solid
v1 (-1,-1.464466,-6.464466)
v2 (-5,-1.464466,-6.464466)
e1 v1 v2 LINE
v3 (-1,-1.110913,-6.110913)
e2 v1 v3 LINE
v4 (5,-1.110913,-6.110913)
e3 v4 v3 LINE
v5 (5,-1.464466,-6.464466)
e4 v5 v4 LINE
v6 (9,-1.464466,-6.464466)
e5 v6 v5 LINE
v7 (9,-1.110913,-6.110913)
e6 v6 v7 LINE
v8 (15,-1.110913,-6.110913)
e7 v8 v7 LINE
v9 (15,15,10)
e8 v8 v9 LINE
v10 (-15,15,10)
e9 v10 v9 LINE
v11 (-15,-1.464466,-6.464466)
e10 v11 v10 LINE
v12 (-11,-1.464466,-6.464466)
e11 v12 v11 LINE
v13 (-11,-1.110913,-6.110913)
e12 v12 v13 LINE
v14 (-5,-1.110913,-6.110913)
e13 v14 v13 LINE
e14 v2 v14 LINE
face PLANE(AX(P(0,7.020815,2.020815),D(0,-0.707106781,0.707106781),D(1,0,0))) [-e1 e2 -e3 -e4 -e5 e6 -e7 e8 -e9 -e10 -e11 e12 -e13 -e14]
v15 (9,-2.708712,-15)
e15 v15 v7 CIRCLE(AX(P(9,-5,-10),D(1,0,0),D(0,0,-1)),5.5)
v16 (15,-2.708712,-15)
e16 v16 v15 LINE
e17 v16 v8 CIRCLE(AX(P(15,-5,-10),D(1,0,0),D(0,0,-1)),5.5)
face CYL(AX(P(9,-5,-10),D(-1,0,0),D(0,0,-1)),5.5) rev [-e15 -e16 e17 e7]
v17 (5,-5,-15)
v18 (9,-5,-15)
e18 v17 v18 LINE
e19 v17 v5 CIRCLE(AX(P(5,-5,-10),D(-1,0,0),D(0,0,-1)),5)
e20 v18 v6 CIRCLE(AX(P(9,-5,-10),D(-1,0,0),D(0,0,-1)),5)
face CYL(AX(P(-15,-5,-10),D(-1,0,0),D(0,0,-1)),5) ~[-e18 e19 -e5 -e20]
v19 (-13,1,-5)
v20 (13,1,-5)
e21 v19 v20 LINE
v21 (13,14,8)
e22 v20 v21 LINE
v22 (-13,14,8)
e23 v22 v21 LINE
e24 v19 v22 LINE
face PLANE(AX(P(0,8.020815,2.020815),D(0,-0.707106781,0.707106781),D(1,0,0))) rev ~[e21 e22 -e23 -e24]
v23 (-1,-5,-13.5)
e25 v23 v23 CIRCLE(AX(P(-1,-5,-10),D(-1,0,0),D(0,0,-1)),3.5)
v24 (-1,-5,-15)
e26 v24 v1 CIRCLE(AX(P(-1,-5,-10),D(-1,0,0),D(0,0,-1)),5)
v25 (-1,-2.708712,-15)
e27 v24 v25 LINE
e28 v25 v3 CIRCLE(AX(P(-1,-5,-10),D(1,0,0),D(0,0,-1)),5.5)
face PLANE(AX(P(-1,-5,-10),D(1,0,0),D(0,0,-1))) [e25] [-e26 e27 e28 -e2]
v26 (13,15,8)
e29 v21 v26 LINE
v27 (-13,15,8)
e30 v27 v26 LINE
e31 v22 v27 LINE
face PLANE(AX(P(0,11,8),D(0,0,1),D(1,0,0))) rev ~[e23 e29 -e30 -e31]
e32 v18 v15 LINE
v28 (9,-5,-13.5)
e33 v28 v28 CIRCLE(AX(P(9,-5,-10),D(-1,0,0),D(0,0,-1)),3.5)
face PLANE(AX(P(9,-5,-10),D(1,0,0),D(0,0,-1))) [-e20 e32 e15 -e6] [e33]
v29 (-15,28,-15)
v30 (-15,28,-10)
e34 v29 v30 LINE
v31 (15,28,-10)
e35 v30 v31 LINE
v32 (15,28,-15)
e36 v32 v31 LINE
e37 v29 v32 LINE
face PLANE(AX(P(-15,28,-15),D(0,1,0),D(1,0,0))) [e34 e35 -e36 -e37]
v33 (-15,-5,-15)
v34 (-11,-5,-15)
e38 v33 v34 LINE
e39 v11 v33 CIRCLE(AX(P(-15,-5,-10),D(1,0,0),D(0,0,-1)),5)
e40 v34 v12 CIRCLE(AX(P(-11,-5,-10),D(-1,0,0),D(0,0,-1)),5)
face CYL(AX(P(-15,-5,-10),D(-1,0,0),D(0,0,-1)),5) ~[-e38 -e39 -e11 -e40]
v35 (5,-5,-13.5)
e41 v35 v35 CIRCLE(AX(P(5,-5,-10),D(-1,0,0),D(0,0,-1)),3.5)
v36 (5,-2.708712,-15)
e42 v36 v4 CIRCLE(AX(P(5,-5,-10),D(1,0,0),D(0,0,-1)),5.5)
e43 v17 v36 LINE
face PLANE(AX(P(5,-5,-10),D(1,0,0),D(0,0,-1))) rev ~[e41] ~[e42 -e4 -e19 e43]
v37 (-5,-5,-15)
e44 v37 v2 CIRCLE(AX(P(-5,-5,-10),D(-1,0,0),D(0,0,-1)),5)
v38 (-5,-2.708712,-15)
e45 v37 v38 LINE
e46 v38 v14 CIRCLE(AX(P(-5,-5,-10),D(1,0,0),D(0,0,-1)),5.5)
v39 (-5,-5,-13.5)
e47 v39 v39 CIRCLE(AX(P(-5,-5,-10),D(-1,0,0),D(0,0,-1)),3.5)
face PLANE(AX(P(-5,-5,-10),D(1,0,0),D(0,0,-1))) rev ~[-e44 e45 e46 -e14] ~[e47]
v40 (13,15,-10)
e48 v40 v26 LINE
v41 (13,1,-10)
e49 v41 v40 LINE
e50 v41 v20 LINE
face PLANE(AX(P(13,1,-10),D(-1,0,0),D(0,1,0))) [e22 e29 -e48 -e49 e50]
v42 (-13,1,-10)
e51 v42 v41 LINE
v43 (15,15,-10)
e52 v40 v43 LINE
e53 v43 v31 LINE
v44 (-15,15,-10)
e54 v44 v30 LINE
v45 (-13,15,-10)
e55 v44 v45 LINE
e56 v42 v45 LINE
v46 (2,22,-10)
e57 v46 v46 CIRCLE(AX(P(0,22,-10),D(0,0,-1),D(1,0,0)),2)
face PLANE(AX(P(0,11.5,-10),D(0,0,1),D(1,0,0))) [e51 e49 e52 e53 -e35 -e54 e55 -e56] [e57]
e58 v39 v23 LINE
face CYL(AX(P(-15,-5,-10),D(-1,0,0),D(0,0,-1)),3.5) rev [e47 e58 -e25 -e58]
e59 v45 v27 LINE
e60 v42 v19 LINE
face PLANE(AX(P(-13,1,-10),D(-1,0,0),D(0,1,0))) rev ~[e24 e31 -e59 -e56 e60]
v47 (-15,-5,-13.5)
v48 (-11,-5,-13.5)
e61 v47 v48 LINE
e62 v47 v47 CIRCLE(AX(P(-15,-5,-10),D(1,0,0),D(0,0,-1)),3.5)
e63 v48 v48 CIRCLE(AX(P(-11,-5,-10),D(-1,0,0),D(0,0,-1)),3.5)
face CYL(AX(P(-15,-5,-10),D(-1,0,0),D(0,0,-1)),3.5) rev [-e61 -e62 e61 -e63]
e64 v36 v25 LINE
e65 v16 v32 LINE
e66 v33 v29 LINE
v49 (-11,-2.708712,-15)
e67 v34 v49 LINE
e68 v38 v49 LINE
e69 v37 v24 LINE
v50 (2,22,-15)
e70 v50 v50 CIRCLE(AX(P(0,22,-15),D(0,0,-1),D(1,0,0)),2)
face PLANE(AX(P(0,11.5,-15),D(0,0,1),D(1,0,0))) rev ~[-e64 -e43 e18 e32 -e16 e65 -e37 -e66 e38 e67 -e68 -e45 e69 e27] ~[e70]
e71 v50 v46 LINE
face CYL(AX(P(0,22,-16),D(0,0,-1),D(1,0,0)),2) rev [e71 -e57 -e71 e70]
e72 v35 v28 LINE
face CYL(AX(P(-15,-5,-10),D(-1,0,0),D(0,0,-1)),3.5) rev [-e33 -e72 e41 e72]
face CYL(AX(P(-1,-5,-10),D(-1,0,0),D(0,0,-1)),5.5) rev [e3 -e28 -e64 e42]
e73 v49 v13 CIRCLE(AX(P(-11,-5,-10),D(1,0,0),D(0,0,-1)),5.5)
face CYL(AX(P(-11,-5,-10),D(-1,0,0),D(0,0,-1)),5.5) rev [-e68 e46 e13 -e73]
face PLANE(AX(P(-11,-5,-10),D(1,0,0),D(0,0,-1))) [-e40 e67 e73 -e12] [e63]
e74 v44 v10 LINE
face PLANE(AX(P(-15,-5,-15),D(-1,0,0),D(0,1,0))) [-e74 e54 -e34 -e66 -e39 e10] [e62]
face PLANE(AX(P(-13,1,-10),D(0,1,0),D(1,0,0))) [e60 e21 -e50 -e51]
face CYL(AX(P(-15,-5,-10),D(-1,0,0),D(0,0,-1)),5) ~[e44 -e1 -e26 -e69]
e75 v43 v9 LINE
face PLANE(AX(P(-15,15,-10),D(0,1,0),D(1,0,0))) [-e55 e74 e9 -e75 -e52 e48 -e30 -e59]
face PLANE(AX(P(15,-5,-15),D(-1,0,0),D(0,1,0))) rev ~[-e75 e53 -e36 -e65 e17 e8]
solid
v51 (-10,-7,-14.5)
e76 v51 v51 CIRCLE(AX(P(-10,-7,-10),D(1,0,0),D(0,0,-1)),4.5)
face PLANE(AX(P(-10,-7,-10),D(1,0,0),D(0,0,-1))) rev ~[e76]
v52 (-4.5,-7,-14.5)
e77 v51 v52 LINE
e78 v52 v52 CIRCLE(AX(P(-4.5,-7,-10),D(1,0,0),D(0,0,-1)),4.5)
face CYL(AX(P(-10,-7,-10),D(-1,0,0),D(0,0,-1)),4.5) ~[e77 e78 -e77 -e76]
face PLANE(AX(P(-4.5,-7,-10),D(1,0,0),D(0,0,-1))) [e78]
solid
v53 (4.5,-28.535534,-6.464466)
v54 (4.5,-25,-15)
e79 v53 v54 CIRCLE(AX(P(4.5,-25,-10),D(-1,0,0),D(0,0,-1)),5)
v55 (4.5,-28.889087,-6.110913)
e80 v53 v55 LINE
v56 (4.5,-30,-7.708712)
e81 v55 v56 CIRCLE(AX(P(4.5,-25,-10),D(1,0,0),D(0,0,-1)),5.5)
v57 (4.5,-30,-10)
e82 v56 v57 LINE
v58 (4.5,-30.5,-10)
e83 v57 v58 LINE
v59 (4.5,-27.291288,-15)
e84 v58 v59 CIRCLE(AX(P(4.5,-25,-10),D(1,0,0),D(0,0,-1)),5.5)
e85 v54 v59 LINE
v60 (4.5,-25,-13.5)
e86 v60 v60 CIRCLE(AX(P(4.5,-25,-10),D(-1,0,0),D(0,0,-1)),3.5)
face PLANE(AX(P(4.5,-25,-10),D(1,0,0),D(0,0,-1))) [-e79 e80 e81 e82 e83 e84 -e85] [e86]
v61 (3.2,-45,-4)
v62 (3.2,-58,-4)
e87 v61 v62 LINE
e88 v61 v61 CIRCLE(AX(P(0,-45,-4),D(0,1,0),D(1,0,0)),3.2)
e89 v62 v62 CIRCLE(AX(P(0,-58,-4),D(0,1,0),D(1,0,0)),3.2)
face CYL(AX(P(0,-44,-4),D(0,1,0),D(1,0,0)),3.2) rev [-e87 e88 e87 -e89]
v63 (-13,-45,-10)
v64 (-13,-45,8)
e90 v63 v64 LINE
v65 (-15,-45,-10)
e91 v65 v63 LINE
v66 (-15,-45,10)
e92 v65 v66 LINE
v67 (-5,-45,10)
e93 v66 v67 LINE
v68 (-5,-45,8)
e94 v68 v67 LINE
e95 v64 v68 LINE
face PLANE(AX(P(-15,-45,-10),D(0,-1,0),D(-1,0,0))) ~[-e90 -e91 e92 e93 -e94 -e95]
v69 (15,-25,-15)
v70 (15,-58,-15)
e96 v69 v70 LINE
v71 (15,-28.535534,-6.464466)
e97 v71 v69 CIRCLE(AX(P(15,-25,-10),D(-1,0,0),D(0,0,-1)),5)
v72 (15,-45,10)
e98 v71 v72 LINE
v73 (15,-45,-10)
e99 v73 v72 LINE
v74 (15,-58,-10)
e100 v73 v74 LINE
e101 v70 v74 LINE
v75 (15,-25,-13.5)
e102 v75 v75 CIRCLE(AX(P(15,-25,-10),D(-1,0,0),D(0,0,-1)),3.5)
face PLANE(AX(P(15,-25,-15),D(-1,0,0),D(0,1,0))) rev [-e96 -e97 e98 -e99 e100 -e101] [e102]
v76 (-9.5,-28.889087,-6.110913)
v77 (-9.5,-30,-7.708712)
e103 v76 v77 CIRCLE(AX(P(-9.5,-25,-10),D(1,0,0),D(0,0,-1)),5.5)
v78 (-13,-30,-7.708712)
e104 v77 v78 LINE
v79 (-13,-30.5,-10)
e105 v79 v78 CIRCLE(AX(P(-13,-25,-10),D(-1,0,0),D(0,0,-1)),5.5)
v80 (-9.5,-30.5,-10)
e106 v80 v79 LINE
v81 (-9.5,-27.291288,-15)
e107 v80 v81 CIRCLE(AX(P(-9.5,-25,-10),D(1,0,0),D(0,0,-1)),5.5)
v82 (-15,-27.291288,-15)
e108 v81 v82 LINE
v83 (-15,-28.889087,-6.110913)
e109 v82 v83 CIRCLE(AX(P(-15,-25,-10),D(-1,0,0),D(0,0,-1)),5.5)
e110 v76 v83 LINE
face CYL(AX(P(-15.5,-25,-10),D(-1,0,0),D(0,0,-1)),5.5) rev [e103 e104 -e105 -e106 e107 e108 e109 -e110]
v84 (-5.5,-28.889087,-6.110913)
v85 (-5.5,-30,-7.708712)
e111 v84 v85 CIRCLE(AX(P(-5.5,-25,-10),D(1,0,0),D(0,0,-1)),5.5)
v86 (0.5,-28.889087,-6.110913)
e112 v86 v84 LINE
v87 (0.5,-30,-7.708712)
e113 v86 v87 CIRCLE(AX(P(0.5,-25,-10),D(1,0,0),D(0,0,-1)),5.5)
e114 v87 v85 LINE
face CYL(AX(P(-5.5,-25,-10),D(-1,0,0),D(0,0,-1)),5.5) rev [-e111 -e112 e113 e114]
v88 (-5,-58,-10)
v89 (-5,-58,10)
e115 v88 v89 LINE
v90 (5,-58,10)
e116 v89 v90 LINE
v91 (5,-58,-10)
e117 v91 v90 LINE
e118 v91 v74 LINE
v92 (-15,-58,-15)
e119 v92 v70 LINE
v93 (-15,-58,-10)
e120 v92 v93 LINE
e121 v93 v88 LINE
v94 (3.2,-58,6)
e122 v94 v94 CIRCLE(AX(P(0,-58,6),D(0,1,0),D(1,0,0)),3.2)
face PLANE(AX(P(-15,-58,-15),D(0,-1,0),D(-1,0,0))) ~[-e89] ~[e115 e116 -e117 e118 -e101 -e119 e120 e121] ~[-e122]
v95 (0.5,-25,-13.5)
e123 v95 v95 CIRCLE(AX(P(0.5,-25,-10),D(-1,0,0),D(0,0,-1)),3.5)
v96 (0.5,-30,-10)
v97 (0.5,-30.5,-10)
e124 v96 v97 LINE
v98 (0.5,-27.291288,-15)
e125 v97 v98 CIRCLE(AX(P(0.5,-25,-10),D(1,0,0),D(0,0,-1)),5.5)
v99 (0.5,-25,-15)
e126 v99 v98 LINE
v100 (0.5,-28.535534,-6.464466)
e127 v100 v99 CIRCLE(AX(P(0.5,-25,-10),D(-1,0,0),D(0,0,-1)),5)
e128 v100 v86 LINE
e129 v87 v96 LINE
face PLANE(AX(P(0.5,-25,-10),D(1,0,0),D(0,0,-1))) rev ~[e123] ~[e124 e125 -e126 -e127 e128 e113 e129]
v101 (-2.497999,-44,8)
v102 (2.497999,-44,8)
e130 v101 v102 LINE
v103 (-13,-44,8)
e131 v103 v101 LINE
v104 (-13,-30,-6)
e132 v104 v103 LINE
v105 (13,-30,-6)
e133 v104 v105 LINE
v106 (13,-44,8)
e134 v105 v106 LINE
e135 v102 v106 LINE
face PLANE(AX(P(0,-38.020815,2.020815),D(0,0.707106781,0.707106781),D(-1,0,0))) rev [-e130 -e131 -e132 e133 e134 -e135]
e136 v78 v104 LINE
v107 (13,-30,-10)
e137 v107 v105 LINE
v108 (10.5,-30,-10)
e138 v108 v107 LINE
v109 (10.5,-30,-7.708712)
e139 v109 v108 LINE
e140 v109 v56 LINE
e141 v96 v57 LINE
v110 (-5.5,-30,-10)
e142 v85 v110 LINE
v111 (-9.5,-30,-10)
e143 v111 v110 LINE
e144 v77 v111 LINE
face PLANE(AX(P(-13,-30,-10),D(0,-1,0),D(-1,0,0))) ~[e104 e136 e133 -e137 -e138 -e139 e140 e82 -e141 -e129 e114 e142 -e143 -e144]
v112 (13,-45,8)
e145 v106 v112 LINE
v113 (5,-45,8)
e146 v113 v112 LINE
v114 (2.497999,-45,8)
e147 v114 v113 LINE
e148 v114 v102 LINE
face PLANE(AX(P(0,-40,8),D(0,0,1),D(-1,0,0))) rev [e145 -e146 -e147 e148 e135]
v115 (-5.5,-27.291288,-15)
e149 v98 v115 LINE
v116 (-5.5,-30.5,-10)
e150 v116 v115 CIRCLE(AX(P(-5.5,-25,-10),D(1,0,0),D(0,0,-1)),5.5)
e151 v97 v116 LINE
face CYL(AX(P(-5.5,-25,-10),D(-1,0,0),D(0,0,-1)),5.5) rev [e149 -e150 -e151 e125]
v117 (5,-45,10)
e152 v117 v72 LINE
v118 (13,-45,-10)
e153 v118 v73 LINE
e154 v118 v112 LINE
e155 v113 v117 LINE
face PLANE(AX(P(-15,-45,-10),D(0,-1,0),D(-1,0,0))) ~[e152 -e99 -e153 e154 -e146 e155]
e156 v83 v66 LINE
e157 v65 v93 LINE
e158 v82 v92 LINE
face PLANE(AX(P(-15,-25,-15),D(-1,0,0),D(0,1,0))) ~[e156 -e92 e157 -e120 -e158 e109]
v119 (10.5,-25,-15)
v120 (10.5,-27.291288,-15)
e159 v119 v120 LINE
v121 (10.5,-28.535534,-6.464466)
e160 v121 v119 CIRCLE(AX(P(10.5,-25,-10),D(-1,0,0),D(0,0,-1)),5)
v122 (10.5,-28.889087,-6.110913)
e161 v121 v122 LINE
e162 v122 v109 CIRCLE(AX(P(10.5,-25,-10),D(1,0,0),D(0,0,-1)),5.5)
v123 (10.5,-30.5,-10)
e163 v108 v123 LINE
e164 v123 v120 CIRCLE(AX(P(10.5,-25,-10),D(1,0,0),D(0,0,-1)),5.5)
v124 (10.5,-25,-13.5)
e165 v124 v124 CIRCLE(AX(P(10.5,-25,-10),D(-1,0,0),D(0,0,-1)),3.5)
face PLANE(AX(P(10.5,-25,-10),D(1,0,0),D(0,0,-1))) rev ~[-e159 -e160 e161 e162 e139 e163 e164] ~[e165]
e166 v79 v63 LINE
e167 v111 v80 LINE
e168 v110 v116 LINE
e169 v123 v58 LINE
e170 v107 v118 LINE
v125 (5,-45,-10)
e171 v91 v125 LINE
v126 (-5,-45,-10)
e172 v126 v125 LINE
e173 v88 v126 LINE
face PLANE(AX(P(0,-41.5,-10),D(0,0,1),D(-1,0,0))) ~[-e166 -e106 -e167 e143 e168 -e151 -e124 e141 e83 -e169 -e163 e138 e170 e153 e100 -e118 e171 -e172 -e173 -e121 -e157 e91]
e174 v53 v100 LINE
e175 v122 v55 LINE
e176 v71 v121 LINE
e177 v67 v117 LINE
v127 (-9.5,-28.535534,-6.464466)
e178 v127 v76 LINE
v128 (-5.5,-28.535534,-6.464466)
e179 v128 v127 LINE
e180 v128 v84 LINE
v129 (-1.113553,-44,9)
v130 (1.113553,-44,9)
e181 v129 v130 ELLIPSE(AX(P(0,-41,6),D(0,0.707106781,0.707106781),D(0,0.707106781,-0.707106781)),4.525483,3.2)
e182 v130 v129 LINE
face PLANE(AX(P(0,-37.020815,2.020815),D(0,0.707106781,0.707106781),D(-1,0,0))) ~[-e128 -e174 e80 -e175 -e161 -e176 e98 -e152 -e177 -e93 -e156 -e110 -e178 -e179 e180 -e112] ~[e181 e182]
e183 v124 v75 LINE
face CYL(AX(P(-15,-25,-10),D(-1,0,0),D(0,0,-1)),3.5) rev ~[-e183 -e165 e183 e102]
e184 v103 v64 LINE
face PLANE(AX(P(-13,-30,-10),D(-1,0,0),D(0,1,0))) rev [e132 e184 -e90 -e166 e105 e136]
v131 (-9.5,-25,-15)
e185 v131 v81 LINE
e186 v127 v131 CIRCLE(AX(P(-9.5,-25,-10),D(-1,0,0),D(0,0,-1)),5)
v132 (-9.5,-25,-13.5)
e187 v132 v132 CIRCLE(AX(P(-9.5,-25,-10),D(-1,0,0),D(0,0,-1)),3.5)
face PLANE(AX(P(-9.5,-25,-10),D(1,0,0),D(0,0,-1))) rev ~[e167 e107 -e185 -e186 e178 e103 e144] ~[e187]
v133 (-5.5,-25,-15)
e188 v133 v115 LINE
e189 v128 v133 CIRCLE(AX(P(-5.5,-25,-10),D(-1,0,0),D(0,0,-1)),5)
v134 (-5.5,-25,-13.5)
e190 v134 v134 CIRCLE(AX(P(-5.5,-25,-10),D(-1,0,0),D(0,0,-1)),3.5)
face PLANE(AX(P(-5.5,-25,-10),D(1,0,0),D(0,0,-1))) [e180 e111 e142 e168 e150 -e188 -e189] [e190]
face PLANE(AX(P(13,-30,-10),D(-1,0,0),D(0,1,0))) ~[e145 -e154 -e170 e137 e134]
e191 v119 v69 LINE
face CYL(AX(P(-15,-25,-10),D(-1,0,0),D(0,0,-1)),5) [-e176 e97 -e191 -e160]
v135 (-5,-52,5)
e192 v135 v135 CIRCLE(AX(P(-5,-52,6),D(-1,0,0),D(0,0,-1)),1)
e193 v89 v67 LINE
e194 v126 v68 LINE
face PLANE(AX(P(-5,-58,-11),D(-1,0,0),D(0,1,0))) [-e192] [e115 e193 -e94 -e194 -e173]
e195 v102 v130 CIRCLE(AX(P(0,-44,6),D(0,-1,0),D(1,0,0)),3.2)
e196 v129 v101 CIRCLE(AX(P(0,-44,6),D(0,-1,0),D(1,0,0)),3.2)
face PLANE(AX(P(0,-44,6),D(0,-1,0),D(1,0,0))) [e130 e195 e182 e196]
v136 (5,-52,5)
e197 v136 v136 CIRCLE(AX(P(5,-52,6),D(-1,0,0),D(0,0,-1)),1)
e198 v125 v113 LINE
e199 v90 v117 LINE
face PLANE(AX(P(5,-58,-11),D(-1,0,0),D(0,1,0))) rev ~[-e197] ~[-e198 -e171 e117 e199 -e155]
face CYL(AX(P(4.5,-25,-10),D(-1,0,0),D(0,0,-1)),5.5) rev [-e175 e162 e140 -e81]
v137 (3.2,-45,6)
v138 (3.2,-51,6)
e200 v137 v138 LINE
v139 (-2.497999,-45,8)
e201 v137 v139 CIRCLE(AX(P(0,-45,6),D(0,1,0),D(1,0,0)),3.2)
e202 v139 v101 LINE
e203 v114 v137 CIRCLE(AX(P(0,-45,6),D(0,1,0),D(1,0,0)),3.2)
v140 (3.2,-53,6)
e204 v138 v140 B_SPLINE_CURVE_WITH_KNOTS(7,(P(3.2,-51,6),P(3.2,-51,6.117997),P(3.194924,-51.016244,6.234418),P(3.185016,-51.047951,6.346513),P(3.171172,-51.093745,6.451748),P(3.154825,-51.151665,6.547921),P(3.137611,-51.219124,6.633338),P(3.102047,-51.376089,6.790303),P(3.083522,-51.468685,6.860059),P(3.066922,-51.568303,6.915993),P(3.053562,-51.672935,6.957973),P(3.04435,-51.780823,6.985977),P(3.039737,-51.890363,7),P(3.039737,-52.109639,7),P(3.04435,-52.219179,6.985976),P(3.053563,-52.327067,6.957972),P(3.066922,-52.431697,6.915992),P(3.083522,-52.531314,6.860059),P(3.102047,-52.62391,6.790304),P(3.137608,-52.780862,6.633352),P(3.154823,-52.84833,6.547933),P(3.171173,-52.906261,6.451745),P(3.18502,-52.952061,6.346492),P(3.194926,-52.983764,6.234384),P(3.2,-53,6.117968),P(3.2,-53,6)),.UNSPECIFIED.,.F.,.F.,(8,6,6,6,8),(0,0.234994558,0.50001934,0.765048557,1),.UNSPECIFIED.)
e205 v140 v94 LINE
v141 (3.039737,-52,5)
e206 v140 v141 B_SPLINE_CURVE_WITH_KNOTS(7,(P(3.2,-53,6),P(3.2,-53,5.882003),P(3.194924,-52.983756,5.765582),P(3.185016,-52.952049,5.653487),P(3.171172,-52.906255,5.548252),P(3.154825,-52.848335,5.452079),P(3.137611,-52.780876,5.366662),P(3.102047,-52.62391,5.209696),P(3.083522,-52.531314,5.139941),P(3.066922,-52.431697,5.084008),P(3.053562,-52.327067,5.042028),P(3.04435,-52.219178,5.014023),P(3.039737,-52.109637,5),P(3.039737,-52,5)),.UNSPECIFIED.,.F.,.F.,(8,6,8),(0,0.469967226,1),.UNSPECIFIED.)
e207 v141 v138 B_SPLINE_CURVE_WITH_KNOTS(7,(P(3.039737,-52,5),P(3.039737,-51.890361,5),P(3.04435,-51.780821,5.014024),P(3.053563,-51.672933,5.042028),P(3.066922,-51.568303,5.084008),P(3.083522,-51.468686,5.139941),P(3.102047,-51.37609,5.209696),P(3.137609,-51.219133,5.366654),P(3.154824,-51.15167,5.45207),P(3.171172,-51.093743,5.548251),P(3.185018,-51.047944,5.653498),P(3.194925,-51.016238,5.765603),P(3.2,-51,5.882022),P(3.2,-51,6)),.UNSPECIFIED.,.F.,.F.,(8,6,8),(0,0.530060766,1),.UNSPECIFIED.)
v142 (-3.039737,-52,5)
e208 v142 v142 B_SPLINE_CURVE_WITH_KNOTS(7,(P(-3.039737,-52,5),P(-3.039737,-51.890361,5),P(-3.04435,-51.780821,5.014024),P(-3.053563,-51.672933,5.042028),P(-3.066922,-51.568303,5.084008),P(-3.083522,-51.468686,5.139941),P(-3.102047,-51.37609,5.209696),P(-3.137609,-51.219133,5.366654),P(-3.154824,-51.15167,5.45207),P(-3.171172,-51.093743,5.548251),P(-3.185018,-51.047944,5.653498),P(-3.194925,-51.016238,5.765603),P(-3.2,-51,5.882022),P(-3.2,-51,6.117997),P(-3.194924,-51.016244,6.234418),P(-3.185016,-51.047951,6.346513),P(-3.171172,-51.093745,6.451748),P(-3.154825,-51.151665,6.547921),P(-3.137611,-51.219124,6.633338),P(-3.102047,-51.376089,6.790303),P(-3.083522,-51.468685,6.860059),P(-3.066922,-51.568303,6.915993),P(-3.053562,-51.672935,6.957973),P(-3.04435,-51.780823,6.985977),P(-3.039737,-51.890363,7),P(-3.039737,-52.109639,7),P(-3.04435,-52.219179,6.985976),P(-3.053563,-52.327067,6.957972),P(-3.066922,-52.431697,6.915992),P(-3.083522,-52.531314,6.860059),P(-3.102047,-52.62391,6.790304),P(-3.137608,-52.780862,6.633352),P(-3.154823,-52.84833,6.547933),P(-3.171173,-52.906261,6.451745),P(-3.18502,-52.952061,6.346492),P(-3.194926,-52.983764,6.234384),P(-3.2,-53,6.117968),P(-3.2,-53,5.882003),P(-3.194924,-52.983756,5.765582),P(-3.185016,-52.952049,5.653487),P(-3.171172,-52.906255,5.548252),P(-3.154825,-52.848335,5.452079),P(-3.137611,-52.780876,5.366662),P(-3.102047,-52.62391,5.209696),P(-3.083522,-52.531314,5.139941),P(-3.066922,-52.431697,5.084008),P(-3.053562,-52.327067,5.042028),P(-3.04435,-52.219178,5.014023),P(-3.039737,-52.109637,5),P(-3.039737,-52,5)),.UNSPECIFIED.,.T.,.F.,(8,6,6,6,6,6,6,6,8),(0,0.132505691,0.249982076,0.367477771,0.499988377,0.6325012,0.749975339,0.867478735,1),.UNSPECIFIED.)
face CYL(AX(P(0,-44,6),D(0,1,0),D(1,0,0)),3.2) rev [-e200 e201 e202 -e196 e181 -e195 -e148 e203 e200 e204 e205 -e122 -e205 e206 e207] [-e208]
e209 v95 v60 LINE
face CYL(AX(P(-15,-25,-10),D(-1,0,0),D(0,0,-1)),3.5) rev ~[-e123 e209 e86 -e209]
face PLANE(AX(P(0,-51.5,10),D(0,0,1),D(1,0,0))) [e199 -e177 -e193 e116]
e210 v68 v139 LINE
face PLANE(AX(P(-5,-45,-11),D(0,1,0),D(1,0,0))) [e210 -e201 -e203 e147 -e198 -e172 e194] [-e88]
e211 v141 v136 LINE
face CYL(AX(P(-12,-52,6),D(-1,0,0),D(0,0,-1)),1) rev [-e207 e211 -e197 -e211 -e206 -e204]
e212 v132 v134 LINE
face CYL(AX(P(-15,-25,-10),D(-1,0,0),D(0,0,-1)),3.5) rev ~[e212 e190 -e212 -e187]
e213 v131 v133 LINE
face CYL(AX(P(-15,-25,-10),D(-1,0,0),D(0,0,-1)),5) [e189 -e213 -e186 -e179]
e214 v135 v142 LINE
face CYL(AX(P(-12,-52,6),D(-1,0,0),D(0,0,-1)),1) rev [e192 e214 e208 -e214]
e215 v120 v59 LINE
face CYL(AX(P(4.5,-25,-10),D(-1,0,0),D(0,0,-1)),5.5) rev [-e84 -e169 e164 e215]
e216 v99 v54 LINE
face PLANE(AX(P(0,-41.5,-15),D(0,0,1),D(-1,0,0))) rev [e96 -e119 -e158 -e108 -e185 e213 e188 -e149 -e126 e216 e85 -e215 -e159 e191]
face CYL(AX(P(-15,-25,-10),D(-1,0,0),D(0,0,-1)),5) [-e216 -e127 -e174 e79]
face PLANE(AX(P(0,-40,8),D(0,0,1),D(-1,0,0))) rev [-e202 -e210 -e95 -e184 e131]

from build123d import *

# Parameters (mm, degrees)
CYLINDER005_R           = 4.5
CYLINDER005_DEPTH       = 5.5
CYLINDER005_PITCH_ANGLE = 90
CYLINDER007_R           = 2
CYLINDER007_DEPTH       = 10
CYLINDER004_R           = 5.5
CYLINDER004_DEPTH       = 6
CYLINDER004_PITCH_ANGLE = 90
ARRAY_X_COUNT           = 4
ARRAY_X_PITCH           = 10
CYLINDER001_R           = 3.5
CYLINDER001_DEPTH       = 30
CYLINDER001_PITCH_ANGLE = 90
BOX002_W                = 30
BOX002_H                = 33
BOX002_DEPTH            = 5
CYLINDER_R              = 5
CYLINDER_DEPTH          = 30
CYLINDER_PITCH_ANGLE    = 90
BOX004_W                = 30
BOX004_H                = 34
BOX004_DEPTH            = 15
BOX004_ROLL_ANGLE       = 45
BOX003_W                = 26
BOX003_H                = 20
BOX003_DEPTH            = 18
BOX001_W                = 30
BOX001_H                = 34
BOX001_DEPTH            = 15
BOX001_ROLL_ANGLE       = 45
BOX_W                   = 30
BOX_H                   = 20
BOX_DEPTH               = 20
CYLINDER009_R           = 3.2
CYLINDER009_DEPTH       = 22
CYLINDER009_ROLL_ANGLE  = 90
CYLINDER010_R           = 1
CYLINDER010_DEPTH       = 22
CYLINDER010_PITCH_ANGLE = 90
CYLINDER008_R           = 3.2
CYLINDER008_DEPTH       = 22
CYLINDER008_ROLL_ANGLE  = 90
BOX010_W                = 10
BOX010_H                = 13
BOX010_DEPTH            = 21
CYLINDER006_R           = 5.5
CYLINDER006_DEPTH       = 6
CYLINDER006_PITCH_ANGLE = 90
ARRAY001_X_COUNT        = 3
ARRAY001_X_PITCH        = 10
CYLINDER003_R           = 3.5
CYLINDER003_DEPTH       = 30
CYLINDER003_PITCH_ANGLE = 90
BOX007_W                = 30
BOX007_H                = 33
BOX007_DEPTH            = 5
CYLINDER002_R           = 5
CYLINDER002_DEPTH       = 30
CYLINDER002_PITCH_ANGLE = 90
BOX009_W                = 30
BOX009_H                = 34
BOX009_DEPTH            = 15
BOX009_ROLL_ANGLE       = 45
BOX008_W                = 26
BOX008_H                = 20
BOX008_DEPTH            = 18
BOX006_W                = 30
BOX006_H                = 34
BOX006_DEPTH            = 15
BOX006_ROLL_ANGLE       = 45
BOX005_W                = 30
BOX005_H                = 20
BOX005_DEPTH            = 20


with BuildPart() as eje_out003:
    # Cylinder005 → Cylinder005 (new body)
    with BuildSketch(Plane.XY):
        Circle(CYLINDER005_R)
    extrude(amount=CYLINDER005_DEPTH)


with BuildPart() as eje_out003_1:
    # Cylinder005 pitch: moved
    add(eje_out003.part.rotate(Axis((0, 0, 0), (0, 1, 0)), CYLINDER005_PITCH_ANGLE))


with BuildPart() as eje_out003_2:
    # Cylinder005 placement: moved
    add(eje_out003_1.part.moved(Location((-10, -7, -10))))


with BuildPart() as tornillo:
    # Cylinder007 → Cylinder007 (new body)
    with BuildSketch(Plane(origin=(0, 22, -16), x_dir=(1, 0, 0), z_dir=(0, 0, 1))):
        Circle(CYLINDER007_R)
    extrude(amount=CYLINDER007_DEPTH)


with BuildPart() as array:
    # Cylinder004 → Cylinder004 (new body)
    with BuildSketch(Plane.XY):
        Circle(CYLINDER004_R)
    extrude(amount=CYLINDER004_DEPTH)


with BuildPart() as array_1:
    # Cylinder004 pitch: moved
    add(array.part.rotate(Axis((0, 0, 0), (0, 1, 0)), CYLINDER004_PITCH_ANGLE))


with BuildPart() as array_2:
    # Cylinder004 placement: moved
    add(array_1.part.moved(Location((-11, -5, -10))))

    # Array X: Array ×4


with BuildPart() as array_3:
    add(array_2.part)
    with Locations(*[(i * ARRAY_X_PITCH, 0, 0) for i in range(1, ARRAY_X_COUNT)]):
        add(array_2.part)


with BuildPart() as eje_int:
    # Cylinder001 → Cylinder001 (new body)
    with BuildSketch(Plane.XY):
        Circle(CYLINDER001_R)
    extrude(amount=CYLINDER001_DEPTH)


with BuildPart() as eje_int_1:
    # Cylinder001 pitch: moved
    add(eje_int.part.rotate(Axis((0, 0, 0), (0, 1, 0)), CYLINDER001_PITCH_ANGLE))


with BuildPart() as eje_int_2:
    # Cylinder001 placement: moved
    add(eje_int_1.part.moved(Location((-15, -5, -10))))


with BuildPart() as base:
    # Box002 → Box002 (new body)
    with BuildSketch(Plane(origin=(-15, -5, -15), x_dir=(1, 0, 0), z_dir=(0, 0, 1))):
        with Locations((15, 16.5)):
            Rectangle(BOX002_W, BOX002_H)
    extrude(amount=BOX002_DEPTH)


with BuildPart() as eje_out:
    # Cylinder → Cylinder (new body)
    with BuildSketch(Plane.XY):
        Circle(CYLINDER_R)
    extrude(amount=CYLINDER_DEPTH)


with BuildPart() as eje_out_1:
    # Cylinder pitch: moved
    add(eje_out.part.rotate(Axis((0, 0, 0), (0, 1, 0)), CYLINDER_PITCH_ANGLE))


with BuildPart() as eje_out_2:
    # Cylinder placement: moved
    add(eje_out_1.part.moved(Location((-15, -5, -10))))


with BuildPart() as cube_int_cut:
    # Box004 → Box004 (new body)
    with BuildSketch(Plane.XY):
        with Locations((15, 17)):
            Rectangle(BOX004_W, BOX004_H)
    extrude(amount=BOX004_DEPTH)


with BuildPart() as cube_int_cut_1:
    # Box004 roll: moved
    add(cube_int_cut.part.rotate(Axis((0, 0, 0), (1, 0, 0)), BOX004_ROLL_ANGLE))


with BuildPart() as cube_int_cut_2:
    # Box004 placement: moved
    add(cube_int_cut_1.part.moved(Location((-15, -4, -10))))


with BuildPart() as cut001:
    # Box003 → Box003 (new body)
    with BuildSketch(Plane(origin=(-13, 1, -10), x_dir=(1, 0, 0), z_dir=(0, 0, 1))):
        with Locations((13, 10)):
            Rectangle(BOX003_W, BOX003_H)
    extrude(amount=BOX003_DEPTH)

    # Cut001: cut Cube_int_cut
    add(cube_int_cut_2.part, mode=Mode.SUBTRACT)


with BuildPart() as cube_out_cut:
    # Box001 → Box001 (new body)
    with BuildSketch(Plane.XY):
        with Locations((15, 17)):
            Rectangle(BOX001_W, BOX001_H)
    extrude(amount=BOX001_DEPTH)


with BuildPart() as cube_out_cut_1:
    # Box001 roll: moved
    add(cube_out_cut.part.rotate(Axis((0, 0, 0), (1, 0, 0)), BOX001_ROLL_ANGLE))


with BuildPart() as cube_out_cut_2:
    # Box001 placement: moved
    add(cube_out_cut_1.part.moved(Location((-15, -5, -10))))


with BuildPart() as cut010:
    # Box → Box (new body)
    with BuildSketch(Plane(origin=(-15, -5, -10), x_dir=(1, 0, 0), z_dir=(0, 0, 1))):
        with Locations((15, 10)):
            Rectangle(BOX_W, BOX_H)
    extrude(amount=BOX_DEPTH)

    # Cut: cut Cube_out_cut
    add(cube_out_cut_2.part, mode=Mode.SUBTRACT)

    # Cut002: cut Cut001
    add(cut001.part, mode=Mode.SUBTRACT)

    # Fusion: union base, eje_out
    add(base.part)
    add(eje_out_2.part)

    # Cut003: cut eje_int
    add(eje_int_2.part, mode=Mode.SUBTRACT)

    # Cut008: cut Array
    add(array_3.part, mode=Mode.SUBTRACT)

    # Cut010: cut tornillo
    add(tornillo.part, mode=Mode.SUBTRACT)


with BuildPart() as cylinder002:
    # Cylinder009 → Cylinder009 (new body)
    with BuildSketch(Plane.XY):
        Circle(CYLINDER009_R)
    extrude(amount=CYLINDER009_DEPTH)


with BuildPart() as cylinder002_1:
    # Cylinder009 roll: moved
    add(cylinder002.part.rotate(Axis((0, 0, 0), (1, 0, 0)), CYLINDER009_ROLL_ANGLE))


with BuildPart() as cylinder002_2:
    # Cylinder009 placement: moved
    add(cylinder002_1.part.moved(Location((0, -44, -4))))


with BuildPart() as cylinder003:
    # Cylinder010 → Cylinder010 (new body)
    with BuildSketch(Plane.XY):
        Circle(CYLINDER010_R)
    extrude(amount=CYLINDER010_DEPTH)


with BuildPart() as cylinder003_1:
    # Cylinder010 pitch: moved
    add(cylinder003.part.rotate(Axis((0, 0, 0), (0, 1, 0)), CYLINDER010_PITCH_ANGLE))


with BuildPart() as cylinder003_2:
    # Cylinder010 placement: moved
    add(cylinder003_1.part.moved(Location((-12, -52, 6))))


with BuildPart() as fusion002:
    # Cylinder008 → Cylinder008 (new body)
    with BuildSketch(Plane.XY):
        Circle(CYLINDER008_R)
    extrude(amount=CYLINDER008_DEPTH)


with BuildPart() as fusion002_1:
    # Cylinder008 roll: moved
    add(fusion002.part.rotate(Axis((0, 0, 0), (1, 0, 0)), CYLINDER008_ROLL_ANGLE))


with BuildPart() as fusion002_2:
    # Cylinder008 placement: moved
    add(fusion002_1.part.moved(Location((0, -44, 6))))

    # Fusion002: union Cylinder002, Cylinder003
    add(cylinder002_2.part)
    add(cylinder003_2.part)


with BuildPart() as cube:
    # Box010 → Box010 (new body)
    with BuildSketch(Plane(origin=(-5, -58, -11), x_dir=(1, 0, 0), z_dir=(0, 0, 1))):
        with Locations((5, 6.5)):
            Rectangle(BOX010_W, BOX010_H)
    extrude(amount=BOX010_DEPTH)


with BuildPart() as array001:
    # Cylinder006 → Cylinder006 (new body)
    with BuildSketch(Plane.XY):
        Circle(CYLINDER006_R)
    extrude(amount=CYLINDER006_DEPTH)


with BuildPart() as array001_1:
    # Cylinder006 pitch: moved
    add(array001.part.rotate(Axis((0, 0, 0), (0, 1, 0)), CYLINDER006_PITCH_ANGLE))


with BuildPart() as array001_2:
    # Cylinder006 placement: moved
    add(array001_1.part.moved(Location((-15.5, -25, -10))))

    # Array001 X: Array001 ×3


with BuildPart() as array001_3:
    add(array001_2.part)
    with Locations(*[(i * ARRAY001_X_PITCH, 0, 0) for i in range(1, ARRAY001_X_COUNT)]):
        add(array001_2.part)


with BuildPart() as eje_int001:
    # Cylinder003 → Cylinder003 (new body)
    with BuildSketch(Plane.XY):
        Circle(CYLINDER003_R)
    extrude(amount=CYLINDER003_DEPTH)


with BuildPart() as eje_int001_1:
    # Cylinder003 pitch: moved
    add(eje_int001.part.rotate(Axis((0, 0, 0), (0, 1, 0)), CYLINDER003_PITCH_ANGLE))


with BuildPart() as eje_int001_2:
    # Cylinder003 placement: moved
    add(eje_int001_1.part.moved(Location((-15, -5, -10))))


with BuildPart() as base001:
    # Box007 → Box007 (new body)
    with BuildSketch(Plane(origin=(-15, -5, -15), x_dir=(1, 0, 0), z_dir=(0, 0, 1))):
        with Locations((15, 16.5)):
            Rectangle(BOX007_W, BOX007_H)
    extrude(amount=BOX007_DEPTH)


with BuildPart() as eje_out001:
    # Cylinder002 → Cylinder002 (new body)
    with BuildSketch(Plane.XY):
        Circle(CYLINDER002_R)
    extrude(amount=CYLINDER002_DEPTH)


with BuildPart() as eje_out001_1:
    # Cylinder002 pitch: moved
    add(eje_out001.part.rotate(Axis((0, 0, 0), (0, 1, 0)), CYLINDER002_PITCH_ANGLE))


with BuildPart() as eje_out001_2:
    # Cylinder002 placement: moved
    add(eje_out001_1.part.moved(Location((-15, -5, -10))))


with BuildPart() as cube_int_cut001:
    # Box009 → Box009 (new body)
    with BuildSketch(Plane.XY):
        with Locations((15, 17)):
            Rectangle(BOX009_W, BOX009_H)
    extrude(amount=BOX009_DEPTH)


with BuildPart() as cube_int_cut001_1:
    # Box009 roll: moved
    add(cube_int_cut001.part.rotate(Axis((0, 0, 0), (1, 0, 0)), BOX009_ROLL_ANGLE))


with BuildPart() as cube_int_cut001_2:
    # Box009 placement: moved
    add(cube_int_cut001_1.part.moved(Location((-15, -4, -10))))


with BuildPart() as cut005:
    # Box008 → Box008 (new body)
    with BuildSketch(Plane(origin=(-13, 0, -10), x_dir=(1, 0, 0), z_dir=(0, 0, 1))):
        with Locations((13, 10)):
            Rectangle(BOX008_W, BOX008_H)
    extrude(amount=BOX008_DEPTH)

    # Cut005: cut Cube_int_cut001
    add(cube_int_cut001_2.part, mode=Mode.SUBTRACT)


with BuildPart() as cube_out_cut001:
    # Box006 → Box006 (new body)
    with BuildSketch(Plane.XY):
        with Locations((15, 17)):
            Rectangle(BOX006_W, BOX006_H)
    extrude(amount=BOX006_DEPTH)


with BuildPart() as cube_out_cut001_1:
    # Box006 roll: moved
    add(cube_out_cut001.part.rotate(Axis((0, 0, 0), (1, 0, 0)), BOX006_ROLL_ANGLE))


with BuildPart() as cube_out_cut001_2:
    # Box006 placement: moved
    add(cube_out_cut001_1.part.moved(Location((-15, -5, -10))))


with BuildPart() as cut007:
    # Box005 → Box005 (new body)
    with BuildSketch(Plane(origin=(-15, -5, -10), x_dir=(1, 0, 0), z_dir=(0, 0, 1))):
        with Locations((15, 10)):
            Rectangle(BOX005_W, BOX005_H)
    extrude(amount=BOX005_DEPTH)

    # Cut004: cut Cube_out_cut001
    add(cube_out_cut001_2.part, mode=Mode.SUBTRACT)

    # Cut006: cut Cut005
    add(cut005.part, mode=Mode.SUBTRACT)

    # Fusion001: union base001, eje_out001
    add(base001.part)
    add(eje_out001_2.part)

    # Cut007: cut eje_int001
    add(eje_int001_2.part, mode=Mode.SUBTRACT)


with BuildPart() as cut011:
    # Part__Mirroring: instance of Cut007
    add(cut007.part.mirror(Plane(origin=(0, -15, 0), x_dir=(1, 0, 0), z_dir=(0, 1, 0))))

    # Cut009: cut Array001
    add(array001_3.part, mode=Mode.SUBTRACT)

    # Fusion003: union Cube
    add(cube.part)

    # Cut011: cut Fusion002
    add(fusion002_2.part, mode=Mode.SUBTRACT)


solid = Compound([eje_out003_2.part, cut010.part, cut011.part])
